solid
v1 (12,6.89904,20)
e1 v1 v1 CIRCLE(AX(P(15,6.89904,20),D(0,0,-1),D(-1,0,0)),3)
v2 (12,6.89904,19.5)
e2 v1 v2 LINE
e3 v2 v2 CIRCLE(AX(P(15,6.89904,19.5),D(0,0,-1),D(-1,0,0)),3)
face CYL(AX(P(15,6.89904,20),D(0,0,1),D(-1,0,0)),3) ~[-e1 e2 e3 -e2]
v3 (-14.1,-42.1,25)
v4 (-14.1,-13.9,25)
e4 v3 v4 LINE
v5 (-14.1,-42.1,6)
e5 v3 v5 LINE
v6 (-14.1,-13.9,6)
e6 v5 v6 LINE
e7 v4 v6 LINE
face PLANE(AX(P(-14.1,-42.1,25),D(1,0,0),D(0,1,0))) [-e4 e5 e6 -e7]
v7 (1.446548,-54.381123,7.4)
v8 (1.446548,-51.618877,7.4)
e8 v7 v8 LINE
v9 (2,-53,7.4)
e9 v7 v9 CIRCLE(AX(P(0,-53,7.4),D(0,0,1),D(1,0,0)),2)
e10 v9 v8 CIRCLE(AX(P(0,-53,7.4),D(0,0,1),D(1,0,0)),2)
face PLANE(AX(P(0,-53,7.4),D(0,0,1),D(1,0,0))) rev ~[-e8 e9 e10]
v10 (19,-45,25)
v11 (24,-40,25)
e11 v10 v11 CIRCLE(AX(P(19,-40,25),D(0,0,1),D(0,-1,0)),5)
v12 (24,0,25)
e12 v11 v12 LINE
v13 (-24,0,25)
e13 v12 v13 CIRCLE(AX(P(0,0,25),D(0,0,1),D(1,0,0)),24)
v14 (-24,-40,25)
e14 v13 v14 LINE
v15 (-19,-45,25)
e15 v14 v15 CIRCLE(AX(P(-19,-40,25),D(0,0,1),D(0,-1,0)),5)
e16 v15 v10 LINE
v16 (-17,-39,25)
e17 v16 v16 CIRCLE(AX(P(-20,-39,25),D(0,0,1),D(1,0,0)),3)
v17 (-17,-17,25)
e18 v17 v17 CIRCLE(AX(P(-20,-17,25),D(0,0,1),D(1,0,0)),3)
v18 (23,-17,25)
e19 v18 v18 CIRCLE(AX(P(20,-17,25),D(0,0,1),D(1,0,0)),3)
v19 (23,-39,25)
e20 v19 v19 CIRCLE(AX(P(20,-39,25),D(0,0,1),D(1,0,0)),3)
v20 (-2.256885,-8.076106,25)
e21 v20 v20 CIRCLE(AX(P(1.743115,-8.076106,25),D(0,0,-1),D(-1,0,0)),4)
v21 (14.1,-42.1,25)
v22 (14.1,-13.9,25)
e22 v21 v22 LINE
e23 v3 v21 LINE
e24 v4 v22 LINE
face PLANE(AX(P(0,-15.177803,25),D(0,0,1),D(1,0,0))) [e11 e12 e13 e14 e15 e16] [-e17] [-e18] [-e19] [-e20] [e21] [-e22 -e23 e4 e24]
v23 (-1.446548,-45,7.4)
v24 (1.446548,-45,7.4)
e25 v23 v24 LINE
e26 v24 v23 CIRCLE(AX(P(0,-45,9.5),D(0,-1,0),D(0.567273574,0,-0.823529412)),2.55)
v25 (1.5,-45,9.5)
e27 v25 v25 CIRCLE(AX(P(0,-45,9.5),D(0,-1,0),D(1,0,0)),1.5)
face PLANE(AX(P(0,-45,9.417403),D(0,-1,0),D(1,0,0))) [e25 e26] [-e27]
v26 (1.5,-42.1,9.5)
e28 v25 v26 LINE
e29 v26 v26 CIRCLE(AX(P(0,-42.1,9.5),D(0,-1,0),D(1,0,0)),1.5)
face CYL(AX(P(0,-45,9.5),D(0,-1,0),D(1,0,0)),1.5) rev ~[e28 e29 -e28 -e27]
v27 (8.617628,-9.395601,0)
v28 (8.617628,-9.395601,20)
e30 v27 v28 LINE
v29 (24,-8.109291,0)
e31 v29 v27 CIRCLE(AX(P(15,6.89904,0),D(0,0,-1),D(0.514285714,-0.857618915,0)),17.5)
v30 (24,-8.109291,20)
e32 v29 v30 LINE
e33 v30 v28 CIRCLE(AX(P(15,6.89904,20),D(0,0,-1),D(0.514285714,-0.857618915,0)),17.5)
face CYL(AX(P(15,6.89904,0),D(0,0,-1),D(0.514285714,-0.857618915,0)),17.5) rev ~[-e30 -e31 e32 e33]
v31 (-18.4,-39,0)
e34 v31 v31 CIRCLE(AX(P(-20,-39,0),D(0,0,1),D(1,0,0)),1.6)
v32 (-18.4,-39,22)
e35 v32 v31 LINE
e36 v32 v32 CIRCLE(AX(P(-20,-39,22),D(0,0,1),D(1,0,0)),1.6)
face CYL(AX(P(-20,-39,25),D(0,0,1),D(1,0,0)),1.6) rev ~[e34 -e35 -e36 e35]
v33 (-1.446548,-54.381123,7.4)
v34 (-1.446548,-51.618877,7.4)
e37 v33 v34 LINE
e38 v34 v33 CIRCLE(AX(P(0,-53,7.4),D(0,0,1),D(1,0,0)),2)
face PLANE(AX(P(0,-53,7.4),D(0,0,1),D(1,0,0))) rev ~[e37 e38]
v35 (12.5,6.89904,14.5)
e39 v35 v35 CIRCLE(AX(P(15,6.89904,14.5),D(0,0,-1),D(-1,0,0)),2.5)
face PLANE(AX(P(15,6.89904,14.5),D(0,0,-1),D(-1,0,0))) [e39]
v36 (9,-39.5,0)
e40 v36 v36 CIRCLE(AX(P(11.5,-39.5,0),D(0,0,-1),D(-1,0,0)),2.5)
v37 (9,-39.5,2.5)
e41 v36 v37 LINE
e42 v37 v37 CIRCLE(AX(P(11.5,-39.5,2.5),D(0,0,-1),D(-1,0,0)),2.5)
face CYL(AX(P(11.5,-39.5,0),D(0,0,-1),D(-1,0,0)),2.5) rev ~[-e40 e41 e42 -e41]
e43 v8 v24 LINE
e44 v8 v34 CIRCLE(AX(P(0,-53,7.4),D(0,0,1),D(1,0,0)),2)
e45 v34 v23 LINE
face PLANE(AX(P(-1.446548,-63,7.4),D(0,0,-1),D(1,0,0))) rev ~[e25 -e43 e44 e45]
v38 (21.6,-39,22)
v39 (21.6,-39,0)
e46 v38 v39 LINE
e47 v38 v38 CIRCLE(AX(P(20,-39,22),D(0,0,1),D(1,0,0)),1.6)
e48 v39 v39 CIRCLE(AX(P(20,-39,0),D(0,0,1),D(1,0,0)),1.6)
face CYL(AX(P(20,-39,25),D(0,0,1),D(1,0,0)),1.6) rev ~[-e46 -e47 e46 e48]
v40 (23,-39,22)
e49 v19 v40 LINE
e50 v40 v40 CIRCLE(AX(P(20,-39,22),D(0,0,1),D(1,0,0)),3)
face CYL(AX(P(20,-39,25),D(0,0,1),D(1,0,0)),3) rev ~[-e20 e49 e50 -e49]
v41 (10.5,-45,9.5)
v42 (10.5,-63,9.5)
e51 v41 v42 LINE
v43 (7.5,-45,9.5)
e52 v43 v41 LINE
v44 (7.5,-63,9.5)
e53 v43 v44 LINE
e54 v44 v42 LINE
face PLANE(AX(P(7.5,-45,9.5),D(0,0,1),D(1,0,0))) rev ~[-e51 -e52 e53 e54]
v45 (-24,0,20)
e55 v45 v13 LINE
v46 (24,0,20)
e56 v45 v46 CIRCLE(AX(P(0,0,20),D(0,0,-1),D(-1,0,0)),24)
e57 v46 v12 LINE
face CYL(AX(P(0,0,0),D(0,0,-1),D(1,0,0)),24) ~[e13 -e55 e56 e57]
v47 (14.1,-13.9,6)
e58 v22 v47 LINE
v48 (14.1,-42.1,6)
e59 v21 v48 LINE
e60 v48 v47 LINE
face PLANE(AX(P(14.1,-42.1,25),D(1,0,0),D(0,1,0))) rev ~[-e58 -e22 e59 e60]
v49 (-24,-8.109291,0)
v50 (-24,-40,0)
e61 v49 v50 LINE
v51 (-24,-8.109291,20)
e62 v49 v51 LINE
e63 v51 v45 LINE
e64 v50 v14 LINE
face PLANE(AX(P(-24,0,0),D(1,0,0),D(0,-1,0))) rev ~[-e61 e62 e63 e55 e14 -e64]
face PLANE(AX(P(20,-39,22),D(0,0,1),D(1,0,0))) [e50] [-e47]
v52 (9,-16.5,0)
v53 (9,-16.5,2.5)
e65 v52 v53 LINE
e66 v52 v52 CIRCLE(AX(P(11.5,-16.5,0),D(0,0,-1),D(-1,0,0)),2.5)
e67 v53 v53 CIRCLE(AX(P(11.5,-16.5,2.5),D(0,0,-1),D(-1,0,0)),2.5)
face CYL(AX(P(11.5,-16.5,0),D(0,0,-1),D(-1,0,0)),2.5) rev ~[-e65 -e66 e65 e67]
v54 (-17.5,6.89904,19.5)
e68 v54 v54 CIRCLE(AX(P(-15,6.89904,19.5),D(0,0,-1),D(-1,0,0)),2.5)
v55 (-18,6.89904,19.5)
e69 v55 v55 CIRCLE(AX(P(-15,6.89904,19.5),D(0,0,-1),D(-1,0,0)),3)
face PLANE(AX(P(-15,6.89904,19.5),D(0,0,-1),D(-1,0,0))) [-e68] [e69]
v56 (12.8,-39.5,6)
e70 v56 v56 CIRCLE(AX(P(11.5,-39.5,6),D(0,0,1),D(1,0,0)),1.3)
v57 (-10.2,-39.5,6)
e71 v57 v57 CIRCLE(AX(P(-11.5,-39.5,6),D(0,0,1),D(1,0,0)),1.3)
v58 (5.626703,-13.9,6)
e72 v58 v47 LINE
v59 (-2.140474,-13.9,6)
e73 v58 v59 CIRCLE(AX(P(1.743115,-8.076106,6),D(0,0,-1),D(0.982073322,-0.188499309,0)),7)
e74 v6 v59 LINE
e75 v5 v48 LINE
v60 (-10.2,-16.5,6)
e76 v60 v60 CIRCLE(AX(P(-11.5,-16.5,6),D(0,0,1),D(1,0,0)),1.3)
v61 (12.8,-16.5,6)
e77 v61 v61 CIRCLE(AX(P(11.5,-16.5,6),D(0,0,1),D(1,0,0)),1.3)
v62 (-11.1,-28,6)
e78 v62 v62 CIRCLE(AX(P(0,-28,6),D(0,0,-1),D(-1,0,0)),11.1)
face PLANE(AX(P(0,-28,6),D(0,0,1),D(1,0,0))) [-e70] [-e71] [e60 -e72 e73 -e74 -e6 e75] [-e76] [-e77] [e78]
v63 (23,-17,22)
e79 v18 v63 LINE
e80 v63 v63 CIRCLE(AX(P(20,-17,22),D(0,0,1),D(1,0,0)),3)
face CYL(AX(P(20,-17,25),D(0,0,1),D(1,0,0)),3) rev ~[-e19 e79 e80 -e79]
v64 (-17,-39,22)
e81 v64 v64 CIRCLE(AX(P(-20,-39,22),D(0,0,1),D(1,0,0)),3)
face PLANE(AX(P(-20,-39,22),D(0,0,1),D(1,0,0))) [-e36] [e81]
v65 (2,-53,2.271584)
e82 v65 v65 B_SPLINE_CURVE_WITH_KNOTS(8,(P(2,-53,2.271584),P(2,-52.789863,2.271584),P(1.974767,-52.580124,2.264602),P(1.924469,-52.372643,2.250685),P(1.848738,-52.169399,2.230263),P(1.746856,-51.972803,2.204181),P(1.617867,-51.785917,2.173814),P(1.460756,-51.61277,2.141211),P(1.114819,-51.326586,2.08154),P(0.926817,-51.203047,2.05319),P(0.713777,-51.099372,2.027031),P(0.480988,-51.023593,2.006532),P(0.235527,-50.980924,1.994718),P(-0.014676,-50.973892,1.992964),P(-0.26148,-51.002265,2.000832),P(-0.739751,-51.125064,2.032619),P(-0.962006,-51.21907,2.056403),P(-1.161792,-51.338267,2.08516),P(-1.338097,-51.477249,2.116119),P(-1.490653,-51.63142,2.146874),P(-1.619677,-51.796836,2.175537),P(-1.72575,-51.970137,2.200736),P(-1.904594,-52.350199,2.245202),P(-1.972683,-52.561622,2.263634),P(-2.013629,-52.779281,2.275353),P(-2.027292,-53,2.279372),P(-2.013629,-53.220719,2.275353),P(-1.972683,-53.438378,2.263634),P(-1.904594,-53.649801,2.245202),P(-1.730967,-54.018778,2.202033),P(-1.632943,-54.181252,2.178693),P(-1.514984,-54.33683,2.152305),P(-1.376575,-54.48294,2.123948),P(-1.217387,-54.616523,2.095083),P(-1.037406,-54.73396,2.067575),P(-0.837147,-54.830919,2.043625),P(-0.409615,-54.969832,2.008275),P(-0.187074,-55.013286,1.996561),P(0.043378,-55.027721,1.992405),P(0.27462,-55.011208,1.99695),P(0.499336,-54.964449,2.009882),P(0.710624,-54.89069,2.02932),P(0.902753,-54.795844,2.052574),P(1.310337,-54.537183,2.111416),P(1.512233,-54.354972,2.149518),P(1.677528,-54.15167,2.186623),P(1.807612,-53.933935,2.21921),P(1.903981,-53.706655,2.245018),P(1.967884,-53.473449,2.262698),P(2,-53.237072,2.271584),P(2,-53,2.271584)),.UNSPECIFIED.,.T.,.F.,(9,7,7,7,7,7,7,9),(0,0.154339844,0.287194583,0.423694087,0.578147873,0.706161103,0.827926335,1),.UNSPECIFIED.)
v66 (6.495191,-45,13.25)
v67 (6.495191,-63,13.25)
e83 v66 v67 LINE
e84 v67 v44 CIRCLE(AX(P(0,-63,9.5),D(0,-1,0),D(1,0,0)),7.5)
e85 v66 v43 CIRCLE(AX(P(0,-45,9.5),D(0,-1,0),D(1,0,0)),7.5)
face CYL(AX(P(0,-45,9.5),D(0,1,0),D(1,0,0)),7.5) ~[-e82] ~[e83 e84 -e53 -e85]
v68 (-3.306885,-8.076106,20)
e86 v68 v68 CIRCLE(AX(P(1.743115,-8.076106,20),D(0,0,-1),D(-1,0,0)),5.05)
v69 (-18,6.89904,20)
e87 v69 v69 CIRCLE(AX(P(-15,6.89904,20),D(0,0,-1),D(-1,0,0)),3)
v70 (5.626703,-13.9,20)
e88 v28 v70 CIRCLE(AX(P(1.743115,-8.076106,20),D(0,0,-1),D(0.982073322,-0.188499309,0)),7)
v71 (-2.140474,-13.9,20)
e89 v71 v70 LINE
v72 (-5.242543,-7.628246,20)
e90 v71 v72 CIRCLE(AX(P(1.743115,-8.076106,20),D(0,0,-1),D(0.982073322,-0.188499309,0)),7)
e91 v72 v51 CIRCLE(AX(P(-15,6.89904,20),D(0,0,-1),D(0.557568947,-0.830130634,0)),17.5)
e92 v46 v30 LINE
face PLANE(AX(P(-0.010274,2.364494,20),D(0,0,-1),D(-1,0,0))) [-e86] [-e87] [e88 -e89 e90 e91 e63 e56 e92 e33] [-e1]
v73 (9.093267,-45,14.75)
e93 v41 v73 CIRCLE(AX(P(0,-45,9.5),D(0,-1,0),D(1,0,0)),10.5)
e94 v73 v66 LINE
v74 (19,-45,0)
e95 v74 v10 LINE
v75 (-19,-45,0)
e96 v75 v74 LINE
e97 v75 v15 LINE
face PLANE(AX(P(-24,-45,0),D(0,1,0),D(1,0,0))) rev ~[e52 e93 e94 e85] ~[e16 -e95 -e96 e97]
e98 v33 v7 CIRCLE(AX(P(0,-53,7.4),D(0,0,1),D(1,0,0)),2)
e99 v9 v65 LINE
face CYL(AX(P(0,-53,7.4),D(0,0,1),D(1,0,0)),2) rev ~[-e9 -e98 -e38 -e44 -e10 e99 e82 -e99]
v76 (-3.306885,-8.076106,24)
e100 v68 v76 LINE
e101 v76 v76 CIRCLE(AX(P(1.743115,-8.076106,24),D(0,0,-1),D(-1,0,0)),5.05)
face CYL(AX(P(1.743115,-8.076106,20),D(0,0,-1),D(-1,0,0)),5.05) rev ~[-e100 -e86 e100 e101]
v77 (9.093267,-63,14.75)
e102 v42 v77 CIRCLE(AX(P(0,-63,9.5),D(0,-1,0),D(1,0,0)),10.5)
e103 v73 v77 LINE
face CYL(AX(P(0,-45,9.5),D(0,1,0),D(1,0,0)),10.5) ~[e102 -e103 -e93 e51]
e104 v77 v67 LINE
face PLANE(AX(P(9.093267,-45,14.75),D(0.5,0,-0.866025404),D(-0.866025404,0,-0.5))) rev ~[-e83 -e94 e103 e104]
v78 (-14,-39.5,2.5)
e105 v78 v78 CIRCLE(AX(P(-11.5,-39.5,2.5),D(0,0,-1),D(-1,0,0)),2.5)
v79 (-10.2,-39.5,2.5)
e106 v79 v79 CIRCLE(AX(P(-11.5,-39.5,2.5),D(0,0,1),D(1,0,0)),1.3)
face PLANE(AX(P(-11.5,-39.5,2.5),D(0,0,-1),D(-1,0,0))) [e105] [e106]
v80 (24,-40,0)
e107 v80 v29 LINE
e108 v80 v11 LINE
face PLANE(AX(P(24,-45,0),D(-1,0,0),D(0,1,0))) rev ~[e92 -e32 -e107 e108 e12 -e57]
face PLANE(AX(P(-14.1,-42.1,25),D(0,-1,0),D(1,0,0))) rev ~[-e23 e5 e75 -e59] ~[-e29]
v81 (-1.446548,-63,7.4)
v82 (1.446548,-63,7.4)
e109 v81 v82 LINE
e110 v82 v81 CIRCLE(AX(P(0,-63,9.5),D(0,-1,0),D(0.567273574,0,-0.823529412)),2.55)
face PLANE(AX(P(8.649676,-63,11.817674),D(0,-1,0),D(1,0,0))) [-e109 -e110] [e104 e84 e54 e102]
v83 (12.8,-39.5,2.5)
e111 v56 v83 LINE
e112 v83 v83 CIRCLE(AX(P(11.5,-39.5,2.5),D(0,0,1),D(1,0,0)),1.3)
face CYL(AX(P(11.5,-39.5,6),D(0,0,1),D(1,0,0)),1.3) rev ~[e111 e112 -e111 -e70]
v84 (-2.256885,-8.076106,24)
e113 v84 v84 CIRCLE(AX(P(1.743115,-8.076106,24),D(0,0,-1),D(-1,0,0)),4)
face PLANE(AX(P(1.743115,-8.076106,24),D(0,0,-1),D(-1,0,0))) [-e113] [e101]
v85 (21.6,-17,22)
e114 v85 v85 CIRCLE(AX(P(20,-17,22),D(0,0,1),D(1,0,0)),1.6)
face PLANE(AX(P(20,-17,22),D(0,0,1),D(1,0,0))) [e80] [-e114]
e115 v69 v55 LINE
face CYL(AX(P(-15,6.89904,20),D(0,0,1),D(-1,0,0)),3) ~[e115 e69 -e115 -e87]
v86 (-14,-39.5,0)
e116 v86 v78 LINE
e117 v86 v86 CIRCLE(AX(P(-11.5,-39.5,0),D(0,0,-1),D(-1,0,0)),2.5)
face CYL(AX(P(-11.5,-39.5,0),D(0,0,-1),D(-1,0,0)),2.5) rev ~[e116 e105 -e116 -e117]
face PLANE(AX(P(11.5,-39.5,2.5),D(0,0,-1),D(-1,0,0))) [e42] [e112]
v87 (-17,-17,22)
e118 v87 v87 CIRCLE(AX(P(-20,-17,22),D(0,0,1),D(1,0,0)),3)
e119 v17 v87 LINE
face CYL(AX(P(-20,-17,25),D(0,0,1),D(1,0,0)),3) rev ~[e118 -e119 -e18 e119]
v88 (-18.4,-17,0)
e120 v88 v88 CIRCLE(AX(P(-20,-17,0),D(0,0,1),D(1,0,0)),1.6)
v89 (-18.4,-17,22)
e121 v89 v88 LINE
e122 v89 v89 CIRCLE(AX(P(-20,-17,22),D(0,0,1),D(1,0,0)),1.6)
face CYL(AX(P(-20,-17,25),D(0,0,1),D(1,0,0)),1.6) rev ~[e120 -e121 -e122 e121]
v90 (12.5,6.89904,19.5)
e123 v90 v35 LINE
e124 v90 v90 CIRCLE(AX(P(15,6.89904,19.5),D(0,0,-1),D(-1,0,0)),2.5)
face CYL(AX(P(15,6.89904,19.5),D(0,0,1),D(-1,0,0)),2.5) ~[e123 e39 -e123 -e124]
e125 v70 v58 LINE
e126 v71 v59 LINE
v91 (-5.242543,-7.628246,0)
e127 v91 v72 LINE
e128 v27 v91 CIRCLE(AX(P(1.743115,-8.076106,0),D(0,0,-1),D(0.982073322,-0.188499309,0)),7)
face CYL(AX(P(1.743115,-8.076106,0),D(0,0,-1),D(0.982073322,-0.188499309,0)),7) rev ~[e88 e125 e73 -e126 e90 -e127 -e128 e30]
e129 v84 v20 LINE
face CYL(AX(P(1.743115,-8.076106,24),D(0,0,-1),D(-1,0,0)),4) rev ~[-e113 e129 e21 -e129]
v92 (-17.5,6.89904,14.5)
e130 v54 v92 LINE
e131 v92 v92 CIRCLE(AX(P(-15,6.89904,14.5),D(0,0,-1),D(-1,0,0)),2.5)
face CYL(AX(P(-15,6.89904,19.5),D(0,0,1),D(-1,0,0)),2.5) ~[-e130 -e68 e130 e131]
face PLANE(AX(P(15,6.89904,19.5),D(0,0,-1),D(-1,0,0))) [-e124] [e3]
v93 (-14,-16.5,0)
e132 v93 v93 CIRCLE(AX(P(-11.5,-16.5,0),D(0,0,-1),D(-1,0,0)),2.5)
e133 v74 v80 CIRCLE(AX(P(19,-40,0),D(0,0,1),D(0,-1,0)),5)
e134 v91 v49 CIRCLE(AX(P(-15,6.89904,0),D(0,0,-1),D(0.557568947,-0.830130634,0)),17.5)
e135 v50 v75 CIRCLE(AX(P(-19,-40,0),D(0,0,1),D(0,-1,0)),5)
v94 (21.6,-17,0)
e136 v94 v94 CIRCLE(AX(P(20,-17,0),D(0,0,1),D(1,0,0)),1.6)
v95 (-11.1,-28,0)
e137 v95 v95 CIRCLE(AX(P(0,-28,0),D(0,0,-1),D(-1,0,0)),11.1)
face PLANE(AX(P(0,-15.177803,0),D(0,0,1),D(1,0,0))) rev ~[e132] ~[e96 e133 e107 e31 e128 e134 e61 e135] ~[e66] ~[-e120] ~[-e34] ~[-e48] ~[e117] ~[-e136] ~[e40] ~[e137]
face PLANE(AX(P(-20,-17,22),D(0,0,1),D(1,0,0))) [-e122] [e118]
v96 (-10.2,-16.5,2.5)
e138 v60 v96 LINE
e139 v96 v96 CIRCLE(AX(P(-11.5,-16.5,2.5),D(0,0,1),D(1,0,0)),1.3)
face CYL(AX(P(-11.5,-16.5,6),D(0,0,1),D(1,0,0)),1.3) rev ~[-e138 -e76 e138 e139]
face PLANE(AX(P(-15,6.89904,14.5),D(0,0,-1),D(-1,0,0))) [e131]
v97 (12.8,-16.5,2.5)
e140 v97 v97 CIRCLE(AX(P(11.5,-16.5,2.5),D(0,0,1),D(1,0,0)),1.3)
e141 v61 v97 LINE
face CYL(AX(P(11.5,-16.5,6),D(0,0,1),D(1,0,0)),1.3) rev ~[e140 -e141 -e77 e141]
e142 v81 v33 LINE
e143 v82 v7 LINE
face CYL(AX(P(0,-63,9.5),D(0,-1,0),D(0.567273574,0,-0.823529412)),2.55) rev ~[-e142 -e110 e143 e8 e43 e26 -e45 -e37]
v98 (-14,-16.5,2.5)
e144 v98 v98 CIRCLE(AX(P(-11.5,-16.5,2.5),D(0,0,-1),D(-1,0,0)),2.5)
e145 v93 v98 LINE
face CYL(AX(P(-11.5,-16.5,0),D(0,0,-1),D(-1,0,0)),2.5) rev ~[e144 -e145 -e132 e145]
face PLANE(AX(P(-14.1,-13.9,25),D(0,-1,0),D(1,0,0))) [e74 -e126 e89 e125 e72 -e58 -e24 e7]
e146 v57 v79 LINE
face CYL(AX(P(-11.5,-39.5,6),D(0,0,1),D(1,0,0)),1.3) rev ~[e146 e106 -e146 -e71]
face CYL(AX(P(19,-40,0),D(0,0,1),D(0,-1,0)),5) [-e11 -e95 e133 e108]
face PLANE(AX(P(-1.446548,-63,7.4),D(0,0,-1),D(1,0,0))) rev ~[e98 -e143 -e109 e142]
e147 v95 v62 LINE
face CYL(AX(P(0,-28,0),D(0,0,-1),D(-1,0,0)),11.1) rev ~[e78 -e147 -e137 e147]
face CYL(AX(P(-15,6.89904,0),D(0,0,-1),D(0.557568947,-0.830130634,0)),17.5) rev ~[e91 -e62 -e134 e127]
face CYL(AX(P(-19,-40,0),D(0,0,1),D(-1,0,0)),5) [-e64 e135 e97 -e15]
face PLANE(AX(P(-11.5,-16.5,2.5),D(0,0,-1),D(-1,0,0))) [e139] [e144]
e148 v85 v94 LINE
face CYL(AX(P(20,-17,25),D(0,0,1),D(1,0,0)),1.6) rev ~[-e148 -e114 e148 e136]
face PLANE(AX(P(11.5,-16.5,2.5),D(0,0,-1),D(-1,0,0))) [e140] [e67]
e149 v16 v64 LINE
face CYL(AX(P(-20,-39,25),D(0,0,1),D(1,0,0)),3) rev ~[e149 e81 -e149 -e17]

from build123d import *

# Parameters (mm, degrees)
EXTRUDE_1_DEPTH      = 25
SKETCH_3_W           = 28.2
SKETCH_3_H           = 28.2
CUT_EXTRUDE_1_DEPTH  = 19
SKETCH_4_R           = 11.1
CUT_EXTRUDE_2_DEPTH  = 26
CUT_EXTRUDE_3_DEPTH  = 20
SKETCH_11_R          = 3
EXTRUDE_2_DEPTH      = 0.5
SKETCH_12_R          = 2.5
EXTRUDE_3_DEPTH      = 5
SKETCH_13_R          = 5.05
CUT_EXTRUDE_6_DEPTH  = 4
SKETCH_14_R          = 4
CUT_EXTRUDE_7_DEPTH  = 2
SKETCH_15_R          = 1.6
CUT_EXTRUDE_8_DEPTH  = 26
SKETCH_16_R          = 3
CUT_EXTRUDE_9_DEPTH  = 3
SKETCH_17_R          = 1.3
CUT_EXTRUDE_10_DEPTH = 7
SKETCH_18_R          = 2.5
CUT_EXTRUDE_11_DEPTH = 2.5
FILLET_1_R           = 5
SKETCH_19_R          = 7.5
EXTRUDE_4_DEPTH      = 18
CUT_EXTRUDE_12_DEPTH = 18
SKETCH_21_R          = 1.5
CUT_EXTRUDE_13_DEPTH = 10
EXTRUDE_5_DEPTH      = 18
SKETCH_23_R          = 2
CUT_EXTRUDE_14_DEPTH = 8.4


with BuildPart() as part:
    # 草图1 → 凸台-拉伸1 (new body)
    with BuildSketch(Plane.XY):
        with BuildLine():
            Line((-24, 0), (-24, -45))
            Line((-24, -45), (24, -45))
            Line((24, -45), (24, 0))
            ThreePointArc((24, 0), (0, 24), (-24, 0))
        make_face()
    extrude(amount=EXTRUDE_1_DEPTH)

    # 草图3 → 切除-拉伸1 (cut)
    with BuildSketch(Plane.XY.offset(25)):
        with Locations((0, -28)):
            Rectangle(SKETCH_3_W, SKETCH_3_H)
    extrude(amount=-CUT_EXTRUDE_1_DEPTH, mode=Mode.SUBTRACT)

    # 草图4 → 切除-拉伸2 (cut, through all)
    with BuildSketch(Plane(origin=(0, 0, 0), x_dir=(-1, 0, 0), z_dir=(0, 0, -1))):
        with Locations((0, -28)):
            Circle(SKETCH_4_R)
    extrude(amount=-CUT_EXTRUDE_2_DEPTH, mode=Mode.SUBTRACT)

    # 草图8 → 切除-拉伸3 (cut)
    with BuildSketch(Plane(origin=(0, 0, 0), x_dir=(-1, 0, 0), z_dir=(0, 0, -1))):
        with BuildLine():
            Line((-24, 0), (-24, -8.109291107))
            ThreePointArc((-24, -8.109291107), (-16.458301288, -10.540093017), (-8.617628111, -9.395601202))
            ThreePointArc((-8.617628111, -9.395601202), (-0.85769165, -15.019882082), (5.242543421, -7.628246176))
            ThreePointArc((5.242543421, -7.628246176), (14.551350723, -10.595208108), (24, -8.109291107))
            Line((24, -8.109291107), (24, 0))
            ThreePointArc((24, 0), (0, 24), (-24, 0))
        make_face()
    extrude(amount=-CUT_EXTRUDE_3_DEPTH, mode=Mode.SUBTRACT)

    # 草图11 → 凸台-拉伸2 (add)
    with BuildSketch(Plane(origin=(0, 0, 20), x_dir=(-1, 0, 0), z_dir=(0, 0, -1))):
        with Locations((-15, 6.899039913)):
            Circle(SKETCH_11_R)
        with Locations((15, 6.899039913)):
            Circle(SKETCH_11_R)
    extrude(amount=EXTRUDE_2_DEPTH)

    # 草图12 → 凸台-拉伸3 (add)
    with BuildSketch(Plane(origin=(0, 0, 19.5), x_dir=(-1, 0, 0), z_dir=(0, 0, -1))):
        with Locations((-15, 6.899039913)):
            Circle(SKETCH_12_R)
        with Locations((15, 6.899039913)):
            Circle(SKETCH_12_R)
    extrude(amount=EXTRUDE_3_DEPTH)

    # 草图13 → 切除-拉伸6 (cut)
    with BuildSketch(Plane(origin=(0, 0, 20), x_dir=(-1, 0, 0), z_dir=(0, 0, -1))):
        with Locations((-1.743114855, -8.076106038)):
            Circle(SKETCH_13_R)
    extrude(amount=-CUT_EXTRUDE_6_DEPTH, mode=Mode.SUBTRACT)

    # 草图14 → 切除-拉伸7 (cut, through all)
    with BuildSketch(Plane(origin=(0, 0, 24), x_dir=(-1, 0, 0), z_dir=(0, 0, -1))):
        with Locations((-1.743114855, -8.076106038)):
            Circle(SKETCH_14_R)
    extrude(amount=-CUT_EXTRUDE_7_DEPTH, mode=Mode.SUBTRACT)

    # 草图15 → 切除-拉伸8 (cut, through all)
    with BuildSketch(Plane.XY.offset(25)):
        with Locations((-20, -39)):
            Circle(SKETCH_15_R)
        with Locations((-20, -17)):
            Circle(SKETCH_15_R)
        with Locations((20, -39)):
            Circle(SKETCH_15_R)
        with Locations((20, -17)):
            Circle(SKETCH_15_R)
    extrude(amount=-CUT_EXTRUDE_8_DEPTH, mode=Mode.SUBTRACT)

    # 草图16 → 切除-拉伸9 (cut)
    with BuildSketch(Plane.XY.offset(25)):
        with Locations((-20, -17)):
            Circle(SKETCH_16_R)
        with Locations((-20, -39)):
            Circle(SKETCH_16_R)
        with Locations((20, -17)):
            Circle(SKETCH_16_R)
        with Locations((20, -39)):
            Circle(SKETCH_16_R)
    extrude(amount=-CUT_EXTRUDE_9_DEPTH, mode=Mode.SUBTRACT)

    # 草图17 → 切除-拉伸10 (cut, through all)
    with BuildSketch(Plane.XY.offset(6)):
        with Locations((-11.5, -16.5)):
            Circle(SKETCH_17_R)
        with Locations((11.5, -16.5)):
            Circle(SKETCH_17_R)
        with Locations((11.5, -39.5)):
            Circle(SKETCH_17_R)
        with Locations((-11.5, -39.5)):
            Circle(SKETCH_17_R)
    extrude(amount=-CUT_EXTRUDE_10_DEPTH, mode=Mode.SUBTRACT)

    # 草图18 → 切除-拉伸11 (cut)
    with BuildSketch(Plane(origin=(0, 0, 0), x_dir=(-1, 0, 0), z_dir=(0, 0, -1))):
        with Locations((-11.5, -16.5)):
            Circle(SKETCH_18_R)
        with Locations((11.5, -16.5)):
            Circle(SKETCH_18_R)
        with Locations((-11.5, -39.5)):
            Circle(SKETCH_18_R)
        with Locations((11.5, -39.5)):
            Circle(SKETCH_18_R)
    extrude(amount=-CUT_EXTRUDE_11_DEPTH, mode=Mode.SUBTRACT)

    # 圆角1
    fillet_1_edges = [part.edges().sort_by_distance(p)[0] for p in [
        (24, -45, 12.5),
        (-24, -45, 12.5),
    ]]
    fillet(fillet_1_edges, radius=FILLET_1_R)

    # 草图19 → 凸台-拉伸4 (add)
    with BuildSketch(Plane.XZ.offset(45)):
        with Locations((0, 9.5)):
            Circle(SKETCH_19_R)
    extrude(amount=EXTRUDE_4_DEPTH)

    # 草图20 → 切除-拉伸12 (cut)
    with BuildSketch(Plane.XZ.offset(63)):
        with BuildLine():
            Line((-1.446547614, 7.4), (1.446547614, 7.4))
            ThreePointArc((1.446547614, 7.4), (0, 12.05), (-1.446547614, 7.4))
        make_face()
    extrude(amount=-CUT_EXTRUDE_12_DEPTH, mode=Mode.SUBTRACT)

    # 草图21 → 切除-拉伸13 (cut)
    with BuildSketch(Plane.XZ.offset(45)):
        with Locations((0, 9.5)):
            Circle(SKETCH_21_R)
    extrude(amount=-CUT_EXTRUDE_13_DEPTH, mode=Mode.SUBTRACT)

    # 草图22 → 凸台-拉伸5 (add)
    with BuildSketch(Plane.XZ.offset(45)):
        with BuildLine():
            Line((7.5, 9.5), (10.5, 9.5))
            ThreePointArc((10.5, 9.5), (10.142221176, 12.217599974), (9.09326674, 14.75))
            Line((9.09326674, 14.75), (6.495190528, 13.25))
            ThreePointArc((6.495190528, 13.25), (7.244443697, 11.441142838), (7.5, 9.5))
        make_face()
    extrude(amount=EXTRUDE_5_DEPTH)

    # 草图23 → 切除-拉伸14 (cut, through all)
    with BuildSketch(Plane.XY.offset(7.4)):
        with Locations((0, -53)):
            Circle(SKETCH_23_R)
    extrude(amount=-CUT_EXTRUDE_14_DEPTH, mode=Mode.SUBTRACT)


solid = part.part
